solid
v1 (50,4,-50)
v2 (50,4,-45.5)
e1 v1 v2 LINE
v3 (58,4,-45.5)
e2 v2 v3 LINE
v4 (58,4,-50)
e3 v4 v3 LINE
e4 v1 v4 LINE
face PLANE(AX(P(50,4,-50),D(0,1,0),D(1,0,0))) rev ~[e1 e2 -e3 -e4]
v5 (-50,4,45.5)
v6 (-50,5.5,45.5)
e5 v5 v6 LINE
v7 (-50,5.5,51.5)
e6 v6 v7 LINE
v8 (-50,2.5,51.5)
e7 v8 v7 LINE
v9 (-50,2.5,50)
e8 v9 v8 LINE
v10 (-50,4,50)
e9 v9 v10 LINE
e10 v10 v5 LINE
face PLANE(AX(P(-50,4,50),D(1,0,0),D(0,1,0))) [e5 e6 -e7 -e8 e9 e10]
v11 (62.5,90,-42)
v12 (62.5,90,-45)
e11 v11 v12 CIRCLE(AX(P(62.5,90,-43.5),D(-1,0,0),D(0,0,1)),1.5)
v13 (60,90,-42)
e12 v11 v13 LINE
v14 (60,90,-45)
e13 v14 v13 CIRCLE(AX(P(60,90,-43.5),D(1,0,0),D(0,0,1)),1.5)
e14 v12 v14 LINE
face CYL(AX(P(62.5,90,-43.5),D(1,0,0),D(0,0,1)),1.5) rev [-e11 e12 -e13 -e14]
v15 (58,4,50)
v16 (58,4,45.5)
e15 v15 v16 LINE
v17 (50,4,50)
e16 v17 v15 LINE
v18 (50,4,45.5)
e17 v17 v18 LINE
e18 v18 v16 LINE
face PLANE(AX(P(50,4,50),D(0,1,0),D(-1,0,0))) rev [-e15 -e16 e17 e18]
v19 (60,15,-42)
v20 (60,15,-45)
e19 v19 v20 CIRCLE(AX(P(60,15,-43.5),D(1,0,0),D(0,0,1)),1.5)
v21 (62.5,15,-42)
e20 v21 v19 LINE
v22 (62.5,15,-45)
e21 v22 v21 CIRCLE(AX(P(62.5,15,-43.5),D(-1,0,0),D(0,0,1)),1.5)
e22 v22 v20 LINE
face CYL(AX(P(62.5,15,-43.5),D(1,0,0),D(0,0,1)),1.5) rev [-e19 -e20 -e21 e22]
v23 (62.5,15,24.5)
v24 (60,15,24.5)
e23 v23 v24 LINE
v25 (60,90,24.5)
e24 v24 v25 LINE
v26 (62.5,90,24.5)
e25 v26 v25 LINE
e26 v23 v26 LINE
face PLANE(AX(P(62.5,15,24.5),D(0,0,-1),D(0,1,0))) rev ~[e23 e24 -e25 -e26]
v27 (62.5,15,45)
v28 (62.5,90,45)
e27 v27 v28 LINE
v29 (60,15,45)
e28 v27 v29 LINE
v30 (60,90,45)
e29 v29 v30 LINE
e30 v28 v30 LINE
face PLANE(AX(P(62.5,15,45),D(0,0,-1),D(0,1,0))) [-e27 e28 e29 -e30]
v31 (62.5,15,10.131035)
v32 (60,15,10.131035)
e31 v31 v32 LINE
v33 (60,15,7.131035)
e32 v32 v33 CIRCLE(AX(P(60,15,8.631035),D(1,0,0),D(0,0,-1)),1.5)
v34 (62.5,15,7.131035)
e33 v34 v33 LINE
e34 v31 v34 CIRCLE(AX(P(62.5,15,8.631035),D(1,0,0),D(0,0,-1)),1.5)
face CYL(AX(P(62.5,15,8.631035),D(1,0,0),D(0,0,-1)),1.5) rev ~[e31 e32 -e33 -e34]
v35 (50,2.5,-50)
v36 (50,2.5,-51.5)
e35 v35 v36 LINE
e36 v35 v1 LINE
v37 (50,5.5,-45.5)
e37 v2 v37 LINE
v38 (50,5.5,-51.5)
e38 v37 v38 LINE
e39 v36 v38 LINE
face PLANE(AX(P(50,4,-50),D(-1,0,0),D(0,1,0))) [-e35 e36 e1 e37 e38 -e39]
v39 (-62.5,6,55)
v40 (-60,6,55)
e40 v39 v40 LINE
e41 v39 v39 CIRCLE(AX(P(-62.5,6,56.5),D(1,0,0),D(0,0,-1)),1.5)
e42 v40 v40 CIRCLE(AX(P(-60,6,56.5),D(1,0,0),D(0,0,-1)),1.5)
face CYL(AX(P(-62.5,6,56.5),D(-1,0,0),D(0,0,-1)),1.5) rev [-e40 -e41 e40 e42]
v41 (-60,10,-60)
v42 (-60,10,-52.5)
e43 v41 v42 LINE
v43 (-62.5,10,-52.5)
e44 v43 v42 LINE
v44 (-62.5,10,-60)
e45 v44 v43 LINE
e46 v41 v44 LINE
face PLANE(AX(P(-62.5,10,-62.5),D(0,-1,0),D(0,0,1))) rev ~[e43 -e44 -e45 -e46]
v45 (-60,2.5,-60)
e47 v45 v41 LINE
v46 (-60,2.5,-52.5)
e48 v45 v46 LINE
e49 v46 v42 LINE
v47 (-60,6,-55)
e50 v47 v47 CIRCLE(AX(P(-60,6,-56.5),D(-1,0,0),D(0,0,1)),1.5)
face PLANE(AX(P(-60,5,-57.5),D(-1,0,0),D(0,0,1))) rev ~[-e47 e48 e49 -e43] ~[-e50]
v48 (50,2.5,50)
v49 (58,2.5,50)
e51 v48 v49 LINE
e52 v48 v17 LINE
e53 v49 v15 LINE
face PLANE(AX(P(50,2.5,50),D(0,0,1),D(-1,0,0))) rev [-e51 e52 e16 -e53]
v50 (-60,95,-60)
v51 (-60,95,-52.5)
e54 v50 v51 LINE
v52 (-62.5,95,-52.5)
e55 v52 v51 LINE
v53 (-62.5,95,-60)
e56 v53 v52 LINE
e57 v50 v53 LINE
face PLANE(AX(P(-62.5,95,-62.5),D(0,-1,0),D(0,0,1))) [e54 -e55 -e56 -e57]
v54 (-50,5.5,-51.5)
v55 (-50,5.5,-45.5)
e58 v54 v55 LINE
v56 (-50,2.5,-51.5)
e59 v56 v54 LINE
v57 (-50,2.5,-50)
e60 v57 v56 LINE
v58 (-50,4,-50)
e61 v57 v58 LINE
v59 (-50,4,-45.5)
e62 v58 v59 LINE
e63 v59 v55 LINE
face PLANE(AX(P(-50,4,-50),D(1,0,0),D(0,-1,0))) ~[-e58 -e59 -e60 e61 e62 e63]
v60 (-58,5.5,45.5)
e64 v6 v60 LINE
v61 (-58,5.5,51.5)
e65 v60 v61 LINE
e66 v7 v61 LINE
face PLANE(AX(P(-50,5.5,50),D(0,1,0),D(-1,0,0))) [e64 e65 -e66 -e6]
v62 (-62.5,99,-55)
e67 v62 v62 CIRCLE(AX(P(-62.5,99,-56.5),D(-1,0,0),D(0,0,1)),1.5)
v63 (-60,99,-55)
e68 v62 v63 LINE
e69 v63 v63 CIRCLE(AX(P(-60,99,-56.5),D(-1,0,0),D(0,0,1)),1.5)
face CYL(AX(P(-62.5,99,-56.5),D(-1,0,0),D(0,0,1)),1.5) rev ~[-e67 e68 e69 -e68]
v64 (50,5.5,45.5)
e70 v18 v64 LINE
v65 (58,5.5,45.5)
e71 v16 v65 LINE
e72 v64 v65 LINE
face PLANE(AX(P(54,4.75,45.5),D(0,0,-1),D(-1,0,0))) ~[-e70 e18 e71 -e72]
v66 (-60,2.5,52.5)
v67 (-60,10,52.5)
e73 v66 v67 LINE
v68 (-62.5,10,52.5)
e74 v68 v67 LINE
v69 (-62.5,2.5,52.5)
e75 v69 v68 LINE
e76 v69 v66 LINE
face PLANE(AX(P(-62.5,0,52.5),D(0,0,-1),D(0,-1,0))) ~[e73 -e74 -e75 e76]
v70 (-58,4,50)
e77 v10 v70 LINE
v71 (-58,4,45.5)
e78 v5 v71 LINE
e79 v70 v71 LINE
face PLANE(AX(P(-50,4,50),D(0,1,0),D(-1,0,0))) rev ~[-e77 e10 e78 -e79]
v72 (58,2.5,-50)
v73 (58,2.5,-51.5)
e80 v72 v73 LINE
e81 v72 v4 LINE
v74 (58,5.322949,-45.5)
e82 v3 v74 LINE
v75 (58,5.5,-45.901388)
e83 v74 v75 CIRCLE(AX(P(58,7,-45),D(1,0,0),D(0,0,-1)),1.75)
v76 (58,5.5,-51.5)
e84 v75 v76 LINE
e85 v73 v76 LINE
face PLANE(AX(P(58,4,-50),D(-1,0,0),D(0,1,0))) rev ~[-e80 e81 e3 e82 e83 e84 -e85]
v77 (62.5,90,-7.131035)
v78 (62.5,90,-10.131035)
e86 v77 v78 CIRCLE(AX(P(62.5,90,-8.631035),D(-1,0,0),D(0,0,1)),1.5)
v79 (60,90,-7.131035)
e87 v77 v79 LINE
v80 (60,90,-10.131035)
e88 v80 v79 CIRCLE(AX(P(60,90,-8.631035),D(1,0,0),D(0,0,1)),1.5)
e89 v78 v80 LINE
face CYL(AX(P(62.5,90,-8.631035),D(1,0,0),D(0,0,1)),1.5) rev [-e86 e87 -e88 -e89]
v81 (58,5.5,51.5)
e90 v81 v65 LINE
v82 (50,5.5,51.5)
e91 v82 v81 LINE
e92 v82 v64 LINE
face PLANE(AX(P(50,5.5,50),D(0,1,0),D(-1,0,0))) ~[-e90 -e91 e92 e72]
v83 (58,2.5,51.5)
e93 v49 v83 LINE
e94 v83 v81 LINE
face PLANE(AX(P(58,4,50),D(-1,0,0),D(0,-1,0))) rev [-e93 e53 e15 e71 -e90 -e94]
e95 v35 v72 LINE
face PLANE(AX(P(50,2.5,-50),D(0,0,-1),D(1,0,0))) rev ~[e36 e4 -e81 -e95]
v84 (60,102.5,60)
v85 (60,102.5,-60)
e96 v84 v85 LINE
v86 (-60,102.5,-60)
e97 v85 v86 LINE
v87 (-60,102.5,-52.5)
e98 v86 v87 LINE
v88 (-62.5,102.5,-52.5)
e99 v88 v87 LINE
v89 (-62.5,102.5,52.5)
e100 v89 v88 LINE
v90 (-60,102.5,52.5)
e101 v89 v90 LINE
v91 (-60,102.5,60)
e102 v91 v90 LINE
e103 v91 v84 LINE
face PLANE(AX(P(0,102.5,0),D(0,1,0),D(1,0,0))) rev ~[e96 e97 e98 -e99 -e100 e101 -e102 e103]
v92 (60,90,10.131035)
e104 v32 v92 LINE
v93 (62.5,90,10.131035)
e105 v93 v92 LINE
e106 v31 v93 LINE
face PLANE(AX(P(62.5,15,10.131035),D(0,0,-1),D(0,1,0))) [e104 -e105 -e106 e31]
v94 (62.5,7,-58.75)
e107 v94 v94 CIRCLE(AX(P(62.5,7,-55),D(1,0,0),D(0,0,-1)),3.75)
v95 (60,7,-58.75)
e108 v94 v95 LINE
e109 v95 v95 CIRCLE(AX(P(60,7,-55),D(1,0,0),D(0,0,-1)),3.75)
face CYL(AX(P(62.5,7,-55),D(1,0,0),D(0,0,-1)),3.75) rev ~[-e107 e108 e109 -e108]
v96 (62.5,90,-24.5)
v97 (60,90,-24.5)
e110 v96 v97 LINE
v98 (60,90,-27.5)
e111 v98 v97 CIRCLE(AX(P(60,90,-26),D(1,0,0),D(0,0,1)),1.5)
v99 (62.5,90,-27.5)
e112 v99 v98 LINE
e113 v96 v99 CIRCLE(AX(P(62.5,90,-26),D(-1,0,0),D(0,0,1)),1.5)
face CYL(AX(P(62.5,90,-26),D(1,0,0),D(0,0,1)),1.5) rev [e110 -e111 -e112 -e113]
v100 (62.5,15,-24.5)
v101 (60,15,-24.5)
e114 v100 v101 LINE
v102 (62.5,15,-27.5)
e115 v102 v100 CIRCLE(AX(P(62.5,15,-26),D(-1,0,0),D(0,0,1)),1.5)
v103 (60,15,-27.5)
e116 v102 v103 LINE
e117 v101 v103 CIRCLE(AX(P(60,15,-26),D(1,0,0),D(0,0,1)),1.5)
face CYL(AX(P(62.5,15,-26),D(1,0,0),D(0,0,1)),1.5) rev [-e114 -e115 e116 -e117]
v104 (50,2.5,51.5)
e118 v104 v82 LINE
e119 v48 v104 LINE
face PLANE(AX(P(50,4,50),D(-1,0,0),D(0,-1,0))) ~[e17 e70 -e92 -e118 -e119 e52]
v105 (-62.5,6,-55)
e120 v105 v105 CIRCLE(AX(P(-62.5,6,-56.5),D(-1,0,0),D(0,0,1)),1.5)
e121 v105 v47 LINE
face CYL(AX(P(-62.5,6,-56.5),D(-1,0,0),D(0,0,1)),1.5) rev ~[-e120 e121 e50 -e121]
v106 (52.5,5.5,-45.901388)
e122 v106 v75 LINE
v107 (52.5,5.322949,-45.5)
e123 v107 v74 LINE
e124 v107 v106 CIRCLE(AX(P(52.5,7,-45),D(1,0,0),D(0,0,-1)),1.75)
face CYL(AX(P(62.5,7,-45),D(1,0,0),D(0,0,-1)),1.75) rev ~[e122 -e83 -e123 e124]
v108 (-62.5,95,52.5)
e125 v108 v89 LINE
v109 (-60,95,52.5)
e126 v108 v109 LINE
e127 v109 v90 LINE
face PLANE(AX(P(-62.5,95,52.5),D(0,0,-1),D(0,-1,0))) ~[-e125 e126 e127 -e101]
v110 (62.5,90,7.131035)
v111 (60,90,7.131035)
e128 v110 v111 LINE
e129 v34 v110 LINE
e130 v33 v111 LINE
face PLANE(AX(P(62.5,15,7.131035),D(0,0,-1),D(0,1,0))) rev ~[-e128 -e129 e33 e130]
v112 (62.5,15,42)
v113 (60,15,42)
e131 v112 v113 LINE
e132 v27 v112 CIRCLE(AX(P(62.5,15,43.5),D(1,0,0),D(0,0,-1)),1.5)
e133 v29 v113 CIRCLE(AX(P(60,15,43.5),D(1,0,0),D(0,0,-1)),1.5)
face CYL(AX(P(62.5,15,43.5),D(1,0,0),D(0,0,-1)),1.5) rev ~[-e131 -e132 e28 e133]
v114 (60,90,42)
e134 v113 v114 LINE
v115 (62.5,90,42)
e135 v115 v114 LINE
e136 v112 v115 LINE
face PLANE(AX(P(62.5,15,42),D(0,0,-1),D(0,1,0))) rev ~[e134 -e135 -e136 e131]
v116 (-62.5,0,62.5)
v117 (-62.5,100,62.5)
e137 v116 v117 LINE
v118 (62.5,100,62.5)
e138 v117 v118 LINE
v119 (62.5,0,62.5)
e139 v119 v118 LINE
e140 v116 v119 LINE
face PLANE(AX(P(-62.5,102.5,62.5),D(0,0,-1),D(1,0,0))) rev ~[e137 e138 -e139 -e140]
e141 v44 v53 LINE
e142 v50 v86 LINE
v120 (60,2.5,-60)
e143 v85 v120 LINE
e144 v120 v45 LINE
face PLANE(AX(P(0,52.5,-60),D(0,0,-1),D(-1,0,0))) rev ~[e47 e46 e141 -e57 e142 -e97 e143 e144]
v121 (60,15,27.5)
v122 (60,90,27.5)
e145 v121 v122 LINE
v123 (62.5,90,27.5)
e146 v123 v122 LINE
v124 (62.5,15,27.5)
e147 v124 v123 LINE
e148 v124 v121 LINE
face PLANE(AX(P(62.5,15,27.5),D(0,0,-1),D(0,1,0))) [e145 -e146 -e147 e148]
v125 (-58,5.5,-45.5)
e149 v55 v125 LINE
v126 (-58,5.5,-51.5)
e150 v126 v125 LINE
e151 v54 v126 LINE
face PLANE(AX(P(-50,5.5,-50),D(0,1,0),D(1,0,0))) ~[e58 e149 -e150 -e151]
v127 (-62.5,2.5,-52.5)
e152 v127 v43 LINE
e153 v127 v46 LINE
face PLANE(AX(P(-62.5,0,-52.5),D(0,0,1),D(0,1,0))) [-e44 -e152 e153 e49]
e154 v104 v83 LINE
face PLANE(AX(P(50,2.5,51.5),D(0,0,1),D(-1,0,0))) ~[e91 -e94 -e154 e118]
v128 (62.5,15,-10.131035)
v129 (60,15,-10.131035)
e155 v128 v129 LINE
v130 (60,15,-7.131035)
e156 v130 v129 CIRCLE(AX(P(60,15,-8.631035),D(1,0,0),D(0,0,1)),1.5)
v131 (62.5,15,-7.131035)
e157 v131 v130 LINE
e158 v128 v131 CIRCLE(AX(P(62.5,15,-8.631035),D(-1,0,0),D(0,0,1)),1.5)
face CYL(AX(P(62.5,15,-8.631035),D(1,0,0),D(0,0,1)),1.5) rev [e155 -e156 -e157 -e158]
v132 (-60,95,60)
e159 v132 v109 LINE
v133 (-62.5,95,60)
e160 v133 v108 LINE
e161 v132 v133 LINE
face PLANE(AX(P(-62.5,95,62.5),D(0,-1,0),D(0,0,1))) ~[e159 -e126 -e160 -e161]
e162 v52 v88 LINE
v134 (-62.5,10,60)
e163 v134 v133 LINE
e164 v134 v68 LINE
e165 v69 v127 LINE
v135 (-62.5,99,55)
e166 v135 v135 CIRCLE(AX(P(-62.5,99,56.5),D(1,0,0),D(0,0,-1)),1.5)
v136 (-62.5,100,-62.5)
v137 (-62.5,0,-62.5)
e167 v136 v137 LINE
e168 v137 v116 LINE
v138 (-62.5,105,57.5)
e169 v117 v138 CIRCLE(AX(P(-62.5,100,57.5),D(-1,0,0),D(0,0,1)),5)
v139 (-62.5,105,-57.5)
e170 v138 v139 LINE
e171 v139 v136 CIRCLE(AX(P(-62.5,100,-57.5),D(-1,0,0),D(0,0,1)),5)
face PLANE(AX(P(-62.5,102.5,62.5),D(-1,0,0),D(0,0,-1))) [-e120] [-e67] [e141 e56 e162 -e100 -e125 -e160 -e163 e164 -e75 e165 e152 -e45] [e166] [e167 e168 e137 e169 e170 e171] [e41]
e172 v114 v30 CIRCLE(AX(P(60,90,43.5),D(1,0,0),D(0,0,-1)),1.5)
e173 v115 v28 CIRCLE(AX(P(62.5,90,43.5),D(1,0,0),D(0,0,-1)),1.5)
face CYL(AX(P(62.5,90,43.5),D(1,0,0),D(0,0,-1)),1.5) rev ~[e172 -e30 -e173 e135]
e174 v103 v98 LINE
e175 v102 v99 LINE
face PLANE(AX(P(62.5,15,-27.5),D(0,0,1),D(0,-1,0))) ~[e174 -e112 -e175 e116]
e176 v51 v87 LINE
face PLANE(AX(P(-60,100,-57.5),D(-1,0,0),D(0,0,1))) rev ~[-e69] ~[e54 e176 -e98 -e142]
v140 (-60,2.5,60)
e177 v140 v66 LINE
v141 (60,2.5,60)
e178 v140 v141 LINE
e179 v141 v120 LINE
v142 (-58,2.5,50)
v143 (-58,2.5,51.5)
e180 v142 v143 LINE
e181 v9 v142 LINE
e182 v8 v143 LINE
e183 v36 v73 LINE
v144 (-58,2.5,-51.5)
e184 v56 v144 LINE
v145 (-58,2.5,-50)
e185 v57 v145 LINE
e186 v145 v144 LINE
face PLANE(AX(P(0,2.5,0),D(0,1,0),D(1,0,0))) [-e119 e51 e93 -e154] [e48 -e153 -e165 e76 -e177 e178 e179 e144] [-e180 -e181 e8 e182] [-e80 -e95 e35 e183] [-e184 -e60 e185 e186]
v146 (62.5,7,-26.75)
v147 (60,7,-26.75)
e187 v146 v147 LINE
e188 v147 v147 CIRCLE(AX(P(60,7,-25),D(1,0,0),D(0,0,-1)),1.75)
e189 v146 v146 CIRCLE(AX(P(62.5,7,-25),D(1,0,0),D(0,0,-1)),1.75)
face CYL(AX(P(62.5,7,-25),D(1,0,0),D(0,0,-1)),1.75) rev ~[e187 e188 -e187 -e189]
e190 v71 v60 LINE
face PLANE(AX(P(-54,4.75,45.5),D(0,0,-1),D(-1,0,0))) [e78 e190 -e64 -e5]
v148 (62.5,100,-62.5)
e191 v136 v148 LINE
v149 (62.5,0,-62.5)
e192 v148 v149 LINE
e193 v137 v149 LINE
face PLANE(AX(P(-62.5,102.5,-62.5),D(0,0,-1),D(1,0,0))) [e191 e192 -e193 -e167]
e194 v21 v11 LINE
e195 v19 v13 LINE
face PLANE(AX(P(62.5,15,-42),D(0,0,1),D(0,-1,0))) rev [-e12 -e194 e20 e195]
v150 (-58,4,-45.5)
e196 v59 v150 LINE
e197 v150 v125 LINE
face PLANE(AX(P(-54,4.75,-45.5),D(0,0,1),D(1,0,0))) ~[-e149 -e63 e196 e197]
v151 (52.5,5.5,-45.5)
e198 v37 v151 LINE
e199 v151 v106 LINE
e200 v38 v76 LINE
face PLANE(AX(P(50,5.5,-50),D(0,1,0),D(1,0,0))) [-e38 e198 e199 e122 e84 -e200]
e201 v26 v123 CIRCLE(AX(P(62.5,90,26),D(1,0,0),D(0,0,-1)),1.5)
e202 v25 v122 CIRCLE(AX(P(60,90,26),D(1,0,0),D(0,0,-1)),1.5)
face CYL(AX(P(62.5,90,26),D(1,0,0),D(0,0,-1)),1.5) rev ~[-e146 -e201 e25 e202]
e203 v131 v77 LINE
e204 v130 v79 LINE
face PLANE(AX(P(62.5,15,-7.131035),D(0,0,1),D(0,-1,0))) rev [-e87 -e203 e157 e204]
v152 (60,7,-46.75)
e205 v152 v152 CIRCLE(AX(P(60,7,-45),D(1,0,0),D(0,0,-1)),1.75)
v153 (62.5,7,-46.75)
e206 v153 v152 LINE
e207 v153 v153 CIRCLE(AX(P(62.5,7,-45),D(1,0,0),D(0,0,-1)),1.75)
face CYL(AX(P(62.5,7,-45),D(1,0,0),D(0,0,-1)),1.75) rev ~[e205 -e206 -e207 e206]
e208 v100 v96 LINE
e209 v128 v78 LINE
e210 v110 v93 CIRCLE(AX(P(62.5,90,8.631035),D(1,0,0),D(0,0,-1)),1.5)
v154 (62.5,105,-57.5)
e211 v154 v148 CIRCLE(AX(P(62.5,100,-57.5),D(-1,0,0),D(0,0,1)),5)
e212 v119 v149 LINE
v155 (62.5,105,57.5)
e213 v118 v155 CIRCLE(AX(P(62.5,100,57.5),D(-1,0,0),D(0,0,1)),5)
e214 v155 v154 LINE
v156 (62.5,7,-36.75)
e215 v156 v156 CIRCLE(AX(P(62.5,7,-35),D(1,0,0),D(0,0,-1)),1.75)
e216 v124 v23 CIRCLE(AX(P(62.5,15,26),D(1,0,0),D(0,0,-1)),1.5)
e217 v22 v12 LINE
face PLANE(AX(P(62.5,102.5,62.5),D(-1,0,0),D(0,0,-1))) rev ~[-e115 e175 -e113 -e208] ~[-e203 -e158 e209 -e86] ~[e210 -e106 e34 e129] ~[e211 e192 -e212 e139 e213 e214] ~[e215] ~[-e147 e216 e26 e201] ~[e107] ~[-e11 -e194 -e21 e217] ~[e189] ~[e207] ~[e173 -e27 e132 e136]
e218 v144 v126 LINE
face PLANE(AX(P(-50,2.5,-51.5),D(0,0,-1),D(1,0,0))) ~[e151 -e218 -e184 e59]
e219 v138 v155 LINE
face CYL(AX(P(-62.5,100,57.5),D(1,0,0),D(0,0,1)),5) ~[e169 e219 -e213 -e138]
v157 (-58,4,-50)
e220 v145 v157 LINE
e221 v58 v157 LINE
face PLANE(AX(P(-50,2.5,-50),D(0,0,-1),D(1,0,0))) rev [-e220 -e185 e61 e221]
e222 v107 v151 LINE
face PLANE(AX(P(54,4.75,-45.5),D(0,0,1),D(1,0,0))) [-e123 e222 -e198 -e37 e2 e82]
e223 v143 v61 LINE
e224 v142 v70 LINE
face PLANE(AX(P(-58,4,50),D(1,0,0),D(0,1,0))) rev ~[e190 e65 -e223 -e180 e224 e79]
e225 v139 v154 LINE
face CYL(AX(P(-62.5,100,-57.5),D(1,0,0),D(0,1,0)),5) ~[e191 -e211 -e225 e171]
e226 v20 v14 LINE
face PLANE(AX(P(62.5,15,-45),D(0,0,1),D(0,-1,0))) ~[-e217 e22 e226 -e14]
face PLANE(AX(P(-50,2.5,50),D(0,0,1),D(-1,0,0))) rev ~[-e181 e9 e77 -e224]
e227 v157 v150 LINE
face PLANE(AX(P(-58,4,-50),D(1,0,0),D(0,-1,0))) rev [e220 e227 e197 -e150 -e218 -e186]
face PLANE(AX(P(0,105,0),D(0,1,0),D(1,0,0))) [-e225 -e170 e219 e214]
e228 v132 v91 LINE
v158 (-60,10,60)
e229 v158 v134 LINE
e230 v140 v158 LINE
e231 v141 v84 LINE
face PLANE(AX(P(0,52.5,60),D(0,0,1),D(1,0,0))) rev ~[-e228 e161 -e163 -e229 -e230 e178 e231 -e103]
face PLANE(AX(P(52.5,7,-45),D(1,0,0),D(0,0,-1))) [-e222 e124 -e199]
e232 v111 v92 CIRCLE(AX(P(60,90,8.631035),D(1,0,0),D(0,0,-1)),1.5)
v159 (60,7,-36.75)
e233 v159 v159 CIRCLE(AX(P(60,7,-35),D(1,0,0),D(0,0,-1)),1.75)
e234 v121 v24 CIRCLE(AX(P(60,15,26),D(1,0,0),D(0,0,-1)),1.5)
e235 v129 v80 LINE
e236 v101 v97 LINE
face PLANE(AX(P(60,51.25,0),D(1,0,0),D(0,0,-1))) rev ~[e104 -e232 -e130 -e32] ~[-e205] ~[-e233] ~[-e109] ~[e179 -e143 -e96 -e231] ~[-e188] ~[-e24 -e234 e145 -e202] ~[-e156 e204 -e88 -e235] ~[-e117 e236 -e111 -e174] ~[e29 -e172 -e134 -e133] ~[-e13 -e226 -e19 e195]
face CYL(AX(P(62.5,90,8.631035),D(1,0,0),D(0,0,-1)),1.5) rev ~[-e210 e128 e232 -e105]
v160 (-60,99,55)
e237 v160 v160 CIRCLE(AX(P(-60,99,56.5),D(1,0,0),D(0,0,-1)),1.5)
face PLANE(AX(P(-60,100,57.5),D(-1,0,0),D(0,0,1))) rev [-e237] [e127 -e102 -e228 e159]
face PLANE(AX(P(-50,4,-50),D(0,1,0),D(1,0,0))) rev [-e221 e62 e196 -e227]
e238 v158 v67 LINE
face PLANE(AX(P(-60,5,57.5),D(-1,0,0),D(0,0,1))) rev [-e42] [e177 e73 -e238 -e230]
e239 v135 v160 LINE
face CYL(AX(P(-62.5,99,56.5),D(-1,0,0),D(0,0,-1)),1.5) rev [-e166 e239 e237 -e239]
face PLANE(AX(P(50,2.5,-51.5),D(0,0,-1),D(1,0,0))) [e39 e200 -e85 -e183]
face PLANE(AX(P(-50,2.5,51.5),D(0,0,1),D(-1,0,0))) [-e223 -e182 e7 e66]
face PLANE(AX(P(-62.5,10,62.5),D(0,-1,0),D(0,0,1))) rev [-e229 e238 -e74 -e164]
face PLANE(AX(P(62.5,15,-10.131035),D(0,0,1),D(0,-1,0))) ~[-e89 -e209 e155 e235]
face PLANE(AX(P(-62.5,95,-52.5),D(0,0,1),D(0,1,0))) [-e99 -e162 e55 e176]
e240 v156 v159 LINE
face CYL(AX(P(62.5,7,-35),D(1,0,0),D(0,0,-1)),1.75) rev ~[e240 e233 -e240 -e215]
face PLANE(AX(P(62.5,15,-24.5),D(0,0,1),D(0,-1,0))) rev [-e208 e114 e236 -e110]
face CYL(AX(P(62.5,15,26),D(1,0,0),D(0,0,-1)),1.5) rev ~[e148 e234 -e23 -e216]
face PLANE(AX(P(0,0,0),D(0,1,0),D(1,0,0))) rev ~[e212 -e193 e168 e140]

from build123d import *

# Parameters (mm, degrees)
SKETCH1_W                = 125
SKETCH1_H                = 125
BOSS_EXTRUDE1_DEPTH      = 2.5
SKETCH3_W                = 125
SKETCH3_H                = 100
BOSS_EXTRUDE3_DEPTH      = 2.5
SKETCH2_W                = 125
SKETCH2_H                = 100
BOSS_EXTRUDE4_DEPTH      = 2.5
SKETCH5_W                = 125
SKETCH5_H                = 102.5
BOSS_EXTRUDE6_DEPTH      = 2.5
SKETCH11_W               = 8
SKETCH11_H               = 1.5
BOSS_EXTRUDE9_DEPTH      = 3
SKETCH12_W               = 8
SKETCH12_H               = 1.5
BOSS_EXTRUDE10_DEPTH     = 4.5
MIRROR10_COPY_1_SKETCH_W = 8
MIRROR10_COPY_1_SKETCH_H = 1.5
MIRROR10_COPY_1_DEPTH    = 3
MIRROR10_COPY_2_SKETCH_W = 8
MIRROR10_COPY_2_SKETCH_H = 1.5
MIRROR10_COPY_2_DEPTH    = 3
MIRROR11_COPY_1_SKETCH_W = 8
MIRROR11_COPY_1_SKETCH_H = 1.5
MIRROR11_COPY_1_DEPTH    = 4.5
MIRROR11_COPY_2_SKETCH_W = 8
MIRROR11_COPY_2_SKETCH_H = 1.5
MIRROR11_COPY_2_DEPTH    = 4.5
SKETCH13_W               = 3
SKETCH13_H               = 75
CUT_EXTRUDE3_DEPTH       = 4.5
SKETCH15_W               = 3
SKETCH15_H               = 75
CUT_EXTRUDE4_DEPTH       = 4.5
SKETCH17_W               = 3
SKETCH17_H               = 75
CUT_EXTRUDE5_DEPTH       = 4.5
SKETCH18_R               = 1.5
CUT_EXTRUDE6_DEPTH       = 4.5
SKETCH19_R               = 1.5
CUT_EXTRUDE7_DEPTH       = 4.5
SKETCH21_R               = 1.5
CUT_EXTRUDE8_DEPTH       = 4.5
SKETCH20_R               = 1.5
CUT_EXTRUDE9_DEPTH       = 4.5
SKETCH22_R               = 1.5
CUT_EXTRUDE10_DEPTH      = 4.5
SKETCH23_R               = 1.5
CUT_EXTRUDE11_DEPTH      = 4.5
SKETCH24_W               = 125
SKETCH24_H               = 125
BOSS_EXTRUDE11_DEPTH     = 2.5
SKETCH25_W               = 10
SKETCH25_H               = 10
BOSS_EXTRUDE12_DEPTH     = 2.5
SKETCH26_W               = 10
SKETCH26_H               = 10
BOSS_EXTRUDE13_DEPTH     = 2.5
SKETCH27_R               = 1.5
CUT_EXTRUDE12_DEPTH      = 2.5
SKETCH28_R               = 1.5
CUT_EXTRUDE13_DEPTH      = 2.5
SKETCH31_R               = 1.75
CUT_EXTRUDE14_DEPTH      = 10
SKETCH29_R               = 1.75
CUT_EXTRUDE15_DEPTH      = 10
SKETCH32_R               = 1.75
CUT_EXTRUDE16_DEPTH      = 10
FILLET1_R                = 5
FILLET2_R                = 5
SKETCH33_R               = 3.75
CUT_EXTRUDE17_DEPTH      = 10


with BuildPart() as part:
    # Sketch1 → Boss-Extrude1 (new body)
    with BuildSketch(Plane(origin=(0, 0, 0), x_dir=(1, 0, 0), z_dir=(0, 1, 0))):
        Rectangle(SKETCH1_W, SKETCH1_H)
    extrude(amount=BOSS_EXTRUDE1_DEPTH)

    # Sketch3 → Boss-Extrude3 (add)
    with BuildSketch(Plane(origin=(0, 0, -62.5), x_dir=(-1, 0, 0), z_dir=(0, 0, -1))):
        with Locations((0, 52.5)):
            Rectangle(SKETCH3_W, SKETCH3_H)
    extrude(amount=-BOSS_EXTRUDE3_DEPTH)

    # Sketch2 → Boss-Extrude4 (add)
    with BuildSketch(Plane.XY.offset(62.5)):
        with Locations((0, 52.5)):
            Rectangle(SKETCH2_W, SKETCH2_H)
    extrude(amount=-BOSS_EXTRUDE4_DEPTH)

    # Sketch5 → Boss-Extrude6 (add)
    with BuildSketch(Plane(origin=(62.5, 0, 0), x_dir=(0, 0, -1), z_dir=(1, 0, 0))):
        with Locations((0, 51.25)):
            Rectangle(SKETCH5_W, SKETCH5_H)
    extrude(amount=-BOSS_EXTRUDE6_DEPTH)

    # Sketch11 → Boss-Extrude9 (add)
    with BuildSketch(Plane(origin=(0, 2.5, 0), x_dir=(1, 0, 0), z_dir=(0, 1, 0))):
        with Locations((54, 50.75)):
            Rectangle(SKETCH11_W, SKETCH11_H)
    boss_extrude9 = extrude(amount=BOSS_EXTRUDE9_DEPTH)

    # Mirror6: Boss-Extrude9 across plane
    add(boss_extrude9.mirror(Plane.XY))

    # Sketch12 → Boss-Extrude10 (add)
    with BuildSketch(Plane.XY.offset(-50)):
        with Locations((54, 4.75)):
            Rectangle(SKETCH12_W, SKETCH12_H)
    boss_extrude10 = extrude(amount=BOSS_EXTRUDE10_DEPTH)

    # Mirror7: Boss-Extrude10 across plane
    add(boss_extrude10.mirror(Plane.XY))

    # Mirror8: Boss-Extrude9 across plane
    add(boss_extrude9.mirror(Plane(origin=(0, 0, 0), x_dir=(0, 0, 1), z_dir=(1, 0, 0))))

    # Mirror9: Boss-Extrude10 across plane
    add(boss_extrude10.mirror(Plane(origin=(0, 0, 0), x_dir=(0, 0, 1), z_dir=(1, 0, 0))))

    # Mirror10 copy 1 sketch → Mirror10 copy 1 (add)
    with BuildSketch(Plane(origin=(0, 2.5, 0), x_dir=(-1, 0, 0), z_dir=(0, 1, 0))):
        with Locations((54, 50.75)):
            Rectangle(MIRROR10_COPY_1_SKETCH_W, MIRROR10_COPY_1_SKETCH_H)
    extrude(amount=MIRROR10_COPY_1_DEPTH)

    # Mirror10 copy 2 sketch → Mirror10 copy 2 (add)
    with BuildSketch(Plane(origin=(0, 2.5, 0), x_dir=(1, 0, 0), z_dir=(0, 1, 0))):
        with Locations((54, -50.75)):
            Rectangle(MIRROR10_COPY_2_SKETCH_W, MIRROR10_COPY_2_SKETCH_H)
    extrude(amount=MIRROR10_COPY_2_DEPTH)

    # Mirror11 copy 1 sketch → Mirror11 copy 1 (add)
    with BuildSketch(Plane(origin=(0, 0, 50), x_dir=(-1, 0, 0), z_dir=(0, 0, -1))):
        with Locations((54, 4.75)):
            Rectangle(MIRROR11_COPY_1_SKETCH_W, MIRROR11_COPY_1_SKETCH_H)
    extrude(amount=MIRROR11_COPY_1_DEPTH)

    # Mirror11 copy 2 sketch → Mirror11 copy 2 (add)
    with BuildSketch(Plane(origin=(0, 0, 50), x_dir=(1, 0, 0), z_dir=(0, 0, -1))):
        with Locations((54, -4.75)):
            Rectangle(MIRROR11_COPY_2_SKETCH_W, MIRROR11_COPY_2_SKETCH_H)
    extrude(amount=MIRROR11_COPY_2_DEPTH)

    # Sketch13 → Cut-Extrude3 (cut)
    with BuildSketch(Plane(origin=(62.5, 0, -52.868964846), x_dir=(0, 0, -1), z_dir=(1, 0, 0))):
        with Locations((-61.5, 52.5)):
            Rectangle(SKETCH13_W, SKETCH13_H)
    cut_extrude3 = extrude(amount=-CUT_EXTRUDE3_DEPTH, mode=Mode.SUBTRACT)

    # Sketch15 → Cut-Extrude4 (cut)
    with BuildSketch(Plane(origin=(62.5, 0, 0), x_dir=(0, 0, -1), z_dir=(1, 0, 0))):
        with Locations((-43.5, 52.5)):
            Rectangle(SKETCH15_W, SKETCH15_H)
    cut_extrude4 = extrude(amount=-CUT_EXTRUDE4_DEPTH, mode=Mode.SUBTRACT)

    # Sketch17 → Cut-Extrude5 (cut)
    with BuildSketch(Plane(origin=(62.5, 0, 0), x_dir=(0, 0, -1), z_dir=(1, 0, 0))):
        with Locations((-26, 52.5)):
            Rectangle(SKETCH17_W, SKETCH17_H)
    cut_extrude5 = extrude(amount=-CUT_EXTRUDE5_DEPTH, mode=Mode.SUBTRACT)

    # Mirror12: Cut-Extrude5 across plane
    add(cut_extrude5.mirror(Plane.XY), mode=Mode.SUBTRACT)

    # Mirror13: Cut-Extrude4 across plane
    add(cut_extrude4.mirror(Plane.XY), mode=Mode.SUBTRACT)

    # Mirror14: Cut-Extrude3 across plane
    add(cut_extrude3.mirror(Plane.XY), mode=Mode.SUBTRACT)

    # Sketch18 → Cut-Extrude6 (cut)
    with BuildSketch(Plane(origin=(62.5, 0, 0), x_dir=(0, 0, -1), z_dir=(1, 0, 0))):
        with Locations((-8.631035154, 90)):
            Circle(SKETCH18_R)
    cut_extrude6 = extrude(amount=-CUT_EXTRUDE6_DEPTH, mode=Mode.SUBTRACT)

    # Sketch19 → Cut-Extrude7 (cut)
    with BuildSketch(Plane(origin=(62.5, 0, 0), x_dir=(0, 0, -1), z_dir=(1, 0, 0))):
        with Locations((-8.631035154, 15)):
            Circle(SKETCH19_R)
    cut_extrude7 = extrude(amount=-CUT_EXTRUDE7_DEPTH, mode=Mode.SUBTRACT)

    # Sketch21 → Cut-Extrude8 (cut)
    with BuildSketch(Plane(origin=(62.5, 0, 0), x_dir=(0, 0, -1), z_dir=(1, 0, 0))):
        with Locations((-26, 15)):
            Circle(SKETCH21_R)
    cut_extrude8 = extrude(amount=-CUT_EXTRUDE8_DEPTH, mode=Mode.SUBTRACT)

    # Sketch20 → Cut-Extrude9 (cut)
    with BuildSketch(Plane(origin=(62.5, 0, 0), x_dir=(0, 0, -1), z_dir=(1, 0, 0))):
        with Locations((-43.5, 15)):
            Circle(SKETCH20_R)
    cut_extrude9 = extrude(amount=-CUT_EXTRUDE9_DEPTH, mode=Mode.SUBTRACT)

    # Mirror15: Cut-Extrude7 across plane
    add(cut_extrude7.mirror(Plane.XY), mode=Mode.SUBTRACT)

    # Mirror16: Cut-Extrude9 across plane
    add(cut_extrude9.mirror(Plane.XY), mode=Mode.SUBTRACT)

    # Mirror17: Cut-Extrude8 across plane
    add(cut_extrude8.mirror(Plane.XY), mode=Mode.SUBTRACT)

    # Sketch22 → Cut-Extrude10 (cut)
    with BuildSketch(Plane(origin=(62.5, 0, 0), x_dir=(0, 0, -1), z_dir=(1, 0, 0))):
        with Locations((-43.5, 90)):
            Circle(SKETCH22_R)
    cut_extrude10 = extrude(amount=-CUT_EXTRUDE10_DEPTH, mode=Mode.SUBTRACT)

    # Sketch23 → Cut-Extrude11 (cut)
    with BuildSketch(Plane(origin=(62.5, 0, 0), x_dir=(0, 0, -1), z_dir=(1, 0, 0))):
        with Locations((-26, 90)):
            Circle(SKETCH23_R)
    cut_extrude11 = extrude(amount=-CUT_EXTRUDE11_DEPTH, mode=Mode.SUBTRACT)

    # Mirror18: Cut-Extrude10 across plane
    add(cut_extrude10.mirror(Plane.XY), mode=Mode.SUBTRACT)

    # Mirror19: Cut-Extrude6 across plane
    add(cut_extrude6.mirror(Plane.XY), mode=Mode.SUBTRACT)

    # Mirror20: Cut-Extrude11 across plane
    add(cut_extrude11.mirror(Plane.XY), mode=Mode.SUBTRACT)

    # Sketch24 → Boss-Extrude11 (add)
    with BuildSketch(Plane(origin=(0, 102.5, 0), x_dir=(1, 0, 0), z_dir=(0, 1, 0))):
        Rectangle(SKETCH24_W, SKETCH24_H)
    extrude(amount=BOSS_EXTRUDE11_DEPTH)

    # Sketch25 → Boss-Extrude12 (add)
    with BuildSketch(Plane.ZY.offset(62.5)):
        with Locations((-57.5, 100)):
            Rectangle(SKETCH25_W, SKETCH25_H)
    boss_extrude12 = extrude(amount=-BOSS_EXTRUDE12_DEPTH)

    # Mirror21: Boss-Extrude12 across plane
    add(boss_extrude12.mirror(Plane.XY))

    # Sketch26 → Boss-Extrude13 (add)
    with BuildSketch(Plane.ZY.offset(62.5)):
        with Locations((-57.5, 5)):
            Rectangle(SKETCH26_W, SKETCH26_H)
    boss_extrude13 = extrude(amount=-BOSS_EXTRUDE13_DEPTH)

    # Mirror22: Boss-Extrude13 across plane
    add(boss_extrude13.mirror(Plane.XY))

    # Sketch27 → Cut-Extrude12 (cut)
    with BuildSketch(Plane.ZY.offset(62.5)):
        with Locations((-56.5, 99)):
            Circle(SKETCH27_R)
    cut_extrude12 = extrude(amount=-CUT_EXTRUDE12_DEPTH, mode=Mode.SUBTRACT)

    # Mirror23: Cut-Extrude12 across plane
    add(cut_extrude12.mirror(Plane.XY), mode=Mode.SUBTRACT)

    # Sketch28 → Cut-Extrude13 (cut)
    with BuildSketch(Plane.ZY.offset(62.5)):
        with Locations((-56.5, 6)):
            Circle(SKETCH28_R)
    cut_extrude13 = extrude(amount=-CUT_EXTRUDE13_DEPTH, mode=Mode.SUBTRACT)

    # Mirror24: Cut-Extrude13 across plane
    add(cut_extrude13.mirror(Plane.XY), mode=Mode.SUBTRACT)

    # Sketch31 → Cut-Extrude14 (cut)
    with BuildSketch(Plane(origin=(62.5, 0, 0), x_dir=(0, 0, -1), z_dir=(1, 0, 0))):
        with Locations((35, 7)):
            Circle(SKETCH31_R)
    extrude(amount=-CUT_EXTRUDE14_DEPTH, mode=Mode.SUBTRACT)

    # Sketch29 → Cut-Extrude15 (cut)
    with BuildSketch(Plane(origin=(62.5, 0, 0), x_dir=(0, 0, -1), z_dir=(1, 0, 0))):
        with Locations((25, 7)):
            Circle(SKETCH29_R)
    extrude(amount=-CUT_EXTRUDE15_DEPTH, mode=Mode.SUBTRACT)

    # Sketch32 → Cut-Extrude16 (cut)
    with BuildSketch(Plane(origin=(62.5, 0, 0), x_dir=(0, 0, -1), z_dir=(1, 0, 0))):
        with Locations((45, 7)):
            Circle(SKETCH32_R)
    extrude(amount=-CUT_EXTRUDE16_DEPTH, mode=Mode.SUBTRACT)

    # Fillet1
    fillet1_edges = [part.edges().sort_by_distance(p)[0] for p in [
        (0, 105, 62.5),
    ]]
    fillet(fillet1_edges, radius=FILLET1_R)

    # Fillet2
    fillet2_edges = [part.edges().sort_by_distance(p)[0] for p in [
        (0, 105, -62.5),
    ]]
    fillet(fillet2_edges, radius=FILLET2_R)

    # Sketch33 → Cut-Extrude17 (cut)
    with BuildSketch(Plane(origin=(62.5, 0, 0), x_dir=(0, 0, -1), z_dir=(1, 0, 0))):
        with Locations((55, 7)):
            Circle(SKETCH33_R)
    extrude(amount=-CUT_EXTRUDE17_DEPTH, mode=Mode.SUBTRACT)


solid = part.part
